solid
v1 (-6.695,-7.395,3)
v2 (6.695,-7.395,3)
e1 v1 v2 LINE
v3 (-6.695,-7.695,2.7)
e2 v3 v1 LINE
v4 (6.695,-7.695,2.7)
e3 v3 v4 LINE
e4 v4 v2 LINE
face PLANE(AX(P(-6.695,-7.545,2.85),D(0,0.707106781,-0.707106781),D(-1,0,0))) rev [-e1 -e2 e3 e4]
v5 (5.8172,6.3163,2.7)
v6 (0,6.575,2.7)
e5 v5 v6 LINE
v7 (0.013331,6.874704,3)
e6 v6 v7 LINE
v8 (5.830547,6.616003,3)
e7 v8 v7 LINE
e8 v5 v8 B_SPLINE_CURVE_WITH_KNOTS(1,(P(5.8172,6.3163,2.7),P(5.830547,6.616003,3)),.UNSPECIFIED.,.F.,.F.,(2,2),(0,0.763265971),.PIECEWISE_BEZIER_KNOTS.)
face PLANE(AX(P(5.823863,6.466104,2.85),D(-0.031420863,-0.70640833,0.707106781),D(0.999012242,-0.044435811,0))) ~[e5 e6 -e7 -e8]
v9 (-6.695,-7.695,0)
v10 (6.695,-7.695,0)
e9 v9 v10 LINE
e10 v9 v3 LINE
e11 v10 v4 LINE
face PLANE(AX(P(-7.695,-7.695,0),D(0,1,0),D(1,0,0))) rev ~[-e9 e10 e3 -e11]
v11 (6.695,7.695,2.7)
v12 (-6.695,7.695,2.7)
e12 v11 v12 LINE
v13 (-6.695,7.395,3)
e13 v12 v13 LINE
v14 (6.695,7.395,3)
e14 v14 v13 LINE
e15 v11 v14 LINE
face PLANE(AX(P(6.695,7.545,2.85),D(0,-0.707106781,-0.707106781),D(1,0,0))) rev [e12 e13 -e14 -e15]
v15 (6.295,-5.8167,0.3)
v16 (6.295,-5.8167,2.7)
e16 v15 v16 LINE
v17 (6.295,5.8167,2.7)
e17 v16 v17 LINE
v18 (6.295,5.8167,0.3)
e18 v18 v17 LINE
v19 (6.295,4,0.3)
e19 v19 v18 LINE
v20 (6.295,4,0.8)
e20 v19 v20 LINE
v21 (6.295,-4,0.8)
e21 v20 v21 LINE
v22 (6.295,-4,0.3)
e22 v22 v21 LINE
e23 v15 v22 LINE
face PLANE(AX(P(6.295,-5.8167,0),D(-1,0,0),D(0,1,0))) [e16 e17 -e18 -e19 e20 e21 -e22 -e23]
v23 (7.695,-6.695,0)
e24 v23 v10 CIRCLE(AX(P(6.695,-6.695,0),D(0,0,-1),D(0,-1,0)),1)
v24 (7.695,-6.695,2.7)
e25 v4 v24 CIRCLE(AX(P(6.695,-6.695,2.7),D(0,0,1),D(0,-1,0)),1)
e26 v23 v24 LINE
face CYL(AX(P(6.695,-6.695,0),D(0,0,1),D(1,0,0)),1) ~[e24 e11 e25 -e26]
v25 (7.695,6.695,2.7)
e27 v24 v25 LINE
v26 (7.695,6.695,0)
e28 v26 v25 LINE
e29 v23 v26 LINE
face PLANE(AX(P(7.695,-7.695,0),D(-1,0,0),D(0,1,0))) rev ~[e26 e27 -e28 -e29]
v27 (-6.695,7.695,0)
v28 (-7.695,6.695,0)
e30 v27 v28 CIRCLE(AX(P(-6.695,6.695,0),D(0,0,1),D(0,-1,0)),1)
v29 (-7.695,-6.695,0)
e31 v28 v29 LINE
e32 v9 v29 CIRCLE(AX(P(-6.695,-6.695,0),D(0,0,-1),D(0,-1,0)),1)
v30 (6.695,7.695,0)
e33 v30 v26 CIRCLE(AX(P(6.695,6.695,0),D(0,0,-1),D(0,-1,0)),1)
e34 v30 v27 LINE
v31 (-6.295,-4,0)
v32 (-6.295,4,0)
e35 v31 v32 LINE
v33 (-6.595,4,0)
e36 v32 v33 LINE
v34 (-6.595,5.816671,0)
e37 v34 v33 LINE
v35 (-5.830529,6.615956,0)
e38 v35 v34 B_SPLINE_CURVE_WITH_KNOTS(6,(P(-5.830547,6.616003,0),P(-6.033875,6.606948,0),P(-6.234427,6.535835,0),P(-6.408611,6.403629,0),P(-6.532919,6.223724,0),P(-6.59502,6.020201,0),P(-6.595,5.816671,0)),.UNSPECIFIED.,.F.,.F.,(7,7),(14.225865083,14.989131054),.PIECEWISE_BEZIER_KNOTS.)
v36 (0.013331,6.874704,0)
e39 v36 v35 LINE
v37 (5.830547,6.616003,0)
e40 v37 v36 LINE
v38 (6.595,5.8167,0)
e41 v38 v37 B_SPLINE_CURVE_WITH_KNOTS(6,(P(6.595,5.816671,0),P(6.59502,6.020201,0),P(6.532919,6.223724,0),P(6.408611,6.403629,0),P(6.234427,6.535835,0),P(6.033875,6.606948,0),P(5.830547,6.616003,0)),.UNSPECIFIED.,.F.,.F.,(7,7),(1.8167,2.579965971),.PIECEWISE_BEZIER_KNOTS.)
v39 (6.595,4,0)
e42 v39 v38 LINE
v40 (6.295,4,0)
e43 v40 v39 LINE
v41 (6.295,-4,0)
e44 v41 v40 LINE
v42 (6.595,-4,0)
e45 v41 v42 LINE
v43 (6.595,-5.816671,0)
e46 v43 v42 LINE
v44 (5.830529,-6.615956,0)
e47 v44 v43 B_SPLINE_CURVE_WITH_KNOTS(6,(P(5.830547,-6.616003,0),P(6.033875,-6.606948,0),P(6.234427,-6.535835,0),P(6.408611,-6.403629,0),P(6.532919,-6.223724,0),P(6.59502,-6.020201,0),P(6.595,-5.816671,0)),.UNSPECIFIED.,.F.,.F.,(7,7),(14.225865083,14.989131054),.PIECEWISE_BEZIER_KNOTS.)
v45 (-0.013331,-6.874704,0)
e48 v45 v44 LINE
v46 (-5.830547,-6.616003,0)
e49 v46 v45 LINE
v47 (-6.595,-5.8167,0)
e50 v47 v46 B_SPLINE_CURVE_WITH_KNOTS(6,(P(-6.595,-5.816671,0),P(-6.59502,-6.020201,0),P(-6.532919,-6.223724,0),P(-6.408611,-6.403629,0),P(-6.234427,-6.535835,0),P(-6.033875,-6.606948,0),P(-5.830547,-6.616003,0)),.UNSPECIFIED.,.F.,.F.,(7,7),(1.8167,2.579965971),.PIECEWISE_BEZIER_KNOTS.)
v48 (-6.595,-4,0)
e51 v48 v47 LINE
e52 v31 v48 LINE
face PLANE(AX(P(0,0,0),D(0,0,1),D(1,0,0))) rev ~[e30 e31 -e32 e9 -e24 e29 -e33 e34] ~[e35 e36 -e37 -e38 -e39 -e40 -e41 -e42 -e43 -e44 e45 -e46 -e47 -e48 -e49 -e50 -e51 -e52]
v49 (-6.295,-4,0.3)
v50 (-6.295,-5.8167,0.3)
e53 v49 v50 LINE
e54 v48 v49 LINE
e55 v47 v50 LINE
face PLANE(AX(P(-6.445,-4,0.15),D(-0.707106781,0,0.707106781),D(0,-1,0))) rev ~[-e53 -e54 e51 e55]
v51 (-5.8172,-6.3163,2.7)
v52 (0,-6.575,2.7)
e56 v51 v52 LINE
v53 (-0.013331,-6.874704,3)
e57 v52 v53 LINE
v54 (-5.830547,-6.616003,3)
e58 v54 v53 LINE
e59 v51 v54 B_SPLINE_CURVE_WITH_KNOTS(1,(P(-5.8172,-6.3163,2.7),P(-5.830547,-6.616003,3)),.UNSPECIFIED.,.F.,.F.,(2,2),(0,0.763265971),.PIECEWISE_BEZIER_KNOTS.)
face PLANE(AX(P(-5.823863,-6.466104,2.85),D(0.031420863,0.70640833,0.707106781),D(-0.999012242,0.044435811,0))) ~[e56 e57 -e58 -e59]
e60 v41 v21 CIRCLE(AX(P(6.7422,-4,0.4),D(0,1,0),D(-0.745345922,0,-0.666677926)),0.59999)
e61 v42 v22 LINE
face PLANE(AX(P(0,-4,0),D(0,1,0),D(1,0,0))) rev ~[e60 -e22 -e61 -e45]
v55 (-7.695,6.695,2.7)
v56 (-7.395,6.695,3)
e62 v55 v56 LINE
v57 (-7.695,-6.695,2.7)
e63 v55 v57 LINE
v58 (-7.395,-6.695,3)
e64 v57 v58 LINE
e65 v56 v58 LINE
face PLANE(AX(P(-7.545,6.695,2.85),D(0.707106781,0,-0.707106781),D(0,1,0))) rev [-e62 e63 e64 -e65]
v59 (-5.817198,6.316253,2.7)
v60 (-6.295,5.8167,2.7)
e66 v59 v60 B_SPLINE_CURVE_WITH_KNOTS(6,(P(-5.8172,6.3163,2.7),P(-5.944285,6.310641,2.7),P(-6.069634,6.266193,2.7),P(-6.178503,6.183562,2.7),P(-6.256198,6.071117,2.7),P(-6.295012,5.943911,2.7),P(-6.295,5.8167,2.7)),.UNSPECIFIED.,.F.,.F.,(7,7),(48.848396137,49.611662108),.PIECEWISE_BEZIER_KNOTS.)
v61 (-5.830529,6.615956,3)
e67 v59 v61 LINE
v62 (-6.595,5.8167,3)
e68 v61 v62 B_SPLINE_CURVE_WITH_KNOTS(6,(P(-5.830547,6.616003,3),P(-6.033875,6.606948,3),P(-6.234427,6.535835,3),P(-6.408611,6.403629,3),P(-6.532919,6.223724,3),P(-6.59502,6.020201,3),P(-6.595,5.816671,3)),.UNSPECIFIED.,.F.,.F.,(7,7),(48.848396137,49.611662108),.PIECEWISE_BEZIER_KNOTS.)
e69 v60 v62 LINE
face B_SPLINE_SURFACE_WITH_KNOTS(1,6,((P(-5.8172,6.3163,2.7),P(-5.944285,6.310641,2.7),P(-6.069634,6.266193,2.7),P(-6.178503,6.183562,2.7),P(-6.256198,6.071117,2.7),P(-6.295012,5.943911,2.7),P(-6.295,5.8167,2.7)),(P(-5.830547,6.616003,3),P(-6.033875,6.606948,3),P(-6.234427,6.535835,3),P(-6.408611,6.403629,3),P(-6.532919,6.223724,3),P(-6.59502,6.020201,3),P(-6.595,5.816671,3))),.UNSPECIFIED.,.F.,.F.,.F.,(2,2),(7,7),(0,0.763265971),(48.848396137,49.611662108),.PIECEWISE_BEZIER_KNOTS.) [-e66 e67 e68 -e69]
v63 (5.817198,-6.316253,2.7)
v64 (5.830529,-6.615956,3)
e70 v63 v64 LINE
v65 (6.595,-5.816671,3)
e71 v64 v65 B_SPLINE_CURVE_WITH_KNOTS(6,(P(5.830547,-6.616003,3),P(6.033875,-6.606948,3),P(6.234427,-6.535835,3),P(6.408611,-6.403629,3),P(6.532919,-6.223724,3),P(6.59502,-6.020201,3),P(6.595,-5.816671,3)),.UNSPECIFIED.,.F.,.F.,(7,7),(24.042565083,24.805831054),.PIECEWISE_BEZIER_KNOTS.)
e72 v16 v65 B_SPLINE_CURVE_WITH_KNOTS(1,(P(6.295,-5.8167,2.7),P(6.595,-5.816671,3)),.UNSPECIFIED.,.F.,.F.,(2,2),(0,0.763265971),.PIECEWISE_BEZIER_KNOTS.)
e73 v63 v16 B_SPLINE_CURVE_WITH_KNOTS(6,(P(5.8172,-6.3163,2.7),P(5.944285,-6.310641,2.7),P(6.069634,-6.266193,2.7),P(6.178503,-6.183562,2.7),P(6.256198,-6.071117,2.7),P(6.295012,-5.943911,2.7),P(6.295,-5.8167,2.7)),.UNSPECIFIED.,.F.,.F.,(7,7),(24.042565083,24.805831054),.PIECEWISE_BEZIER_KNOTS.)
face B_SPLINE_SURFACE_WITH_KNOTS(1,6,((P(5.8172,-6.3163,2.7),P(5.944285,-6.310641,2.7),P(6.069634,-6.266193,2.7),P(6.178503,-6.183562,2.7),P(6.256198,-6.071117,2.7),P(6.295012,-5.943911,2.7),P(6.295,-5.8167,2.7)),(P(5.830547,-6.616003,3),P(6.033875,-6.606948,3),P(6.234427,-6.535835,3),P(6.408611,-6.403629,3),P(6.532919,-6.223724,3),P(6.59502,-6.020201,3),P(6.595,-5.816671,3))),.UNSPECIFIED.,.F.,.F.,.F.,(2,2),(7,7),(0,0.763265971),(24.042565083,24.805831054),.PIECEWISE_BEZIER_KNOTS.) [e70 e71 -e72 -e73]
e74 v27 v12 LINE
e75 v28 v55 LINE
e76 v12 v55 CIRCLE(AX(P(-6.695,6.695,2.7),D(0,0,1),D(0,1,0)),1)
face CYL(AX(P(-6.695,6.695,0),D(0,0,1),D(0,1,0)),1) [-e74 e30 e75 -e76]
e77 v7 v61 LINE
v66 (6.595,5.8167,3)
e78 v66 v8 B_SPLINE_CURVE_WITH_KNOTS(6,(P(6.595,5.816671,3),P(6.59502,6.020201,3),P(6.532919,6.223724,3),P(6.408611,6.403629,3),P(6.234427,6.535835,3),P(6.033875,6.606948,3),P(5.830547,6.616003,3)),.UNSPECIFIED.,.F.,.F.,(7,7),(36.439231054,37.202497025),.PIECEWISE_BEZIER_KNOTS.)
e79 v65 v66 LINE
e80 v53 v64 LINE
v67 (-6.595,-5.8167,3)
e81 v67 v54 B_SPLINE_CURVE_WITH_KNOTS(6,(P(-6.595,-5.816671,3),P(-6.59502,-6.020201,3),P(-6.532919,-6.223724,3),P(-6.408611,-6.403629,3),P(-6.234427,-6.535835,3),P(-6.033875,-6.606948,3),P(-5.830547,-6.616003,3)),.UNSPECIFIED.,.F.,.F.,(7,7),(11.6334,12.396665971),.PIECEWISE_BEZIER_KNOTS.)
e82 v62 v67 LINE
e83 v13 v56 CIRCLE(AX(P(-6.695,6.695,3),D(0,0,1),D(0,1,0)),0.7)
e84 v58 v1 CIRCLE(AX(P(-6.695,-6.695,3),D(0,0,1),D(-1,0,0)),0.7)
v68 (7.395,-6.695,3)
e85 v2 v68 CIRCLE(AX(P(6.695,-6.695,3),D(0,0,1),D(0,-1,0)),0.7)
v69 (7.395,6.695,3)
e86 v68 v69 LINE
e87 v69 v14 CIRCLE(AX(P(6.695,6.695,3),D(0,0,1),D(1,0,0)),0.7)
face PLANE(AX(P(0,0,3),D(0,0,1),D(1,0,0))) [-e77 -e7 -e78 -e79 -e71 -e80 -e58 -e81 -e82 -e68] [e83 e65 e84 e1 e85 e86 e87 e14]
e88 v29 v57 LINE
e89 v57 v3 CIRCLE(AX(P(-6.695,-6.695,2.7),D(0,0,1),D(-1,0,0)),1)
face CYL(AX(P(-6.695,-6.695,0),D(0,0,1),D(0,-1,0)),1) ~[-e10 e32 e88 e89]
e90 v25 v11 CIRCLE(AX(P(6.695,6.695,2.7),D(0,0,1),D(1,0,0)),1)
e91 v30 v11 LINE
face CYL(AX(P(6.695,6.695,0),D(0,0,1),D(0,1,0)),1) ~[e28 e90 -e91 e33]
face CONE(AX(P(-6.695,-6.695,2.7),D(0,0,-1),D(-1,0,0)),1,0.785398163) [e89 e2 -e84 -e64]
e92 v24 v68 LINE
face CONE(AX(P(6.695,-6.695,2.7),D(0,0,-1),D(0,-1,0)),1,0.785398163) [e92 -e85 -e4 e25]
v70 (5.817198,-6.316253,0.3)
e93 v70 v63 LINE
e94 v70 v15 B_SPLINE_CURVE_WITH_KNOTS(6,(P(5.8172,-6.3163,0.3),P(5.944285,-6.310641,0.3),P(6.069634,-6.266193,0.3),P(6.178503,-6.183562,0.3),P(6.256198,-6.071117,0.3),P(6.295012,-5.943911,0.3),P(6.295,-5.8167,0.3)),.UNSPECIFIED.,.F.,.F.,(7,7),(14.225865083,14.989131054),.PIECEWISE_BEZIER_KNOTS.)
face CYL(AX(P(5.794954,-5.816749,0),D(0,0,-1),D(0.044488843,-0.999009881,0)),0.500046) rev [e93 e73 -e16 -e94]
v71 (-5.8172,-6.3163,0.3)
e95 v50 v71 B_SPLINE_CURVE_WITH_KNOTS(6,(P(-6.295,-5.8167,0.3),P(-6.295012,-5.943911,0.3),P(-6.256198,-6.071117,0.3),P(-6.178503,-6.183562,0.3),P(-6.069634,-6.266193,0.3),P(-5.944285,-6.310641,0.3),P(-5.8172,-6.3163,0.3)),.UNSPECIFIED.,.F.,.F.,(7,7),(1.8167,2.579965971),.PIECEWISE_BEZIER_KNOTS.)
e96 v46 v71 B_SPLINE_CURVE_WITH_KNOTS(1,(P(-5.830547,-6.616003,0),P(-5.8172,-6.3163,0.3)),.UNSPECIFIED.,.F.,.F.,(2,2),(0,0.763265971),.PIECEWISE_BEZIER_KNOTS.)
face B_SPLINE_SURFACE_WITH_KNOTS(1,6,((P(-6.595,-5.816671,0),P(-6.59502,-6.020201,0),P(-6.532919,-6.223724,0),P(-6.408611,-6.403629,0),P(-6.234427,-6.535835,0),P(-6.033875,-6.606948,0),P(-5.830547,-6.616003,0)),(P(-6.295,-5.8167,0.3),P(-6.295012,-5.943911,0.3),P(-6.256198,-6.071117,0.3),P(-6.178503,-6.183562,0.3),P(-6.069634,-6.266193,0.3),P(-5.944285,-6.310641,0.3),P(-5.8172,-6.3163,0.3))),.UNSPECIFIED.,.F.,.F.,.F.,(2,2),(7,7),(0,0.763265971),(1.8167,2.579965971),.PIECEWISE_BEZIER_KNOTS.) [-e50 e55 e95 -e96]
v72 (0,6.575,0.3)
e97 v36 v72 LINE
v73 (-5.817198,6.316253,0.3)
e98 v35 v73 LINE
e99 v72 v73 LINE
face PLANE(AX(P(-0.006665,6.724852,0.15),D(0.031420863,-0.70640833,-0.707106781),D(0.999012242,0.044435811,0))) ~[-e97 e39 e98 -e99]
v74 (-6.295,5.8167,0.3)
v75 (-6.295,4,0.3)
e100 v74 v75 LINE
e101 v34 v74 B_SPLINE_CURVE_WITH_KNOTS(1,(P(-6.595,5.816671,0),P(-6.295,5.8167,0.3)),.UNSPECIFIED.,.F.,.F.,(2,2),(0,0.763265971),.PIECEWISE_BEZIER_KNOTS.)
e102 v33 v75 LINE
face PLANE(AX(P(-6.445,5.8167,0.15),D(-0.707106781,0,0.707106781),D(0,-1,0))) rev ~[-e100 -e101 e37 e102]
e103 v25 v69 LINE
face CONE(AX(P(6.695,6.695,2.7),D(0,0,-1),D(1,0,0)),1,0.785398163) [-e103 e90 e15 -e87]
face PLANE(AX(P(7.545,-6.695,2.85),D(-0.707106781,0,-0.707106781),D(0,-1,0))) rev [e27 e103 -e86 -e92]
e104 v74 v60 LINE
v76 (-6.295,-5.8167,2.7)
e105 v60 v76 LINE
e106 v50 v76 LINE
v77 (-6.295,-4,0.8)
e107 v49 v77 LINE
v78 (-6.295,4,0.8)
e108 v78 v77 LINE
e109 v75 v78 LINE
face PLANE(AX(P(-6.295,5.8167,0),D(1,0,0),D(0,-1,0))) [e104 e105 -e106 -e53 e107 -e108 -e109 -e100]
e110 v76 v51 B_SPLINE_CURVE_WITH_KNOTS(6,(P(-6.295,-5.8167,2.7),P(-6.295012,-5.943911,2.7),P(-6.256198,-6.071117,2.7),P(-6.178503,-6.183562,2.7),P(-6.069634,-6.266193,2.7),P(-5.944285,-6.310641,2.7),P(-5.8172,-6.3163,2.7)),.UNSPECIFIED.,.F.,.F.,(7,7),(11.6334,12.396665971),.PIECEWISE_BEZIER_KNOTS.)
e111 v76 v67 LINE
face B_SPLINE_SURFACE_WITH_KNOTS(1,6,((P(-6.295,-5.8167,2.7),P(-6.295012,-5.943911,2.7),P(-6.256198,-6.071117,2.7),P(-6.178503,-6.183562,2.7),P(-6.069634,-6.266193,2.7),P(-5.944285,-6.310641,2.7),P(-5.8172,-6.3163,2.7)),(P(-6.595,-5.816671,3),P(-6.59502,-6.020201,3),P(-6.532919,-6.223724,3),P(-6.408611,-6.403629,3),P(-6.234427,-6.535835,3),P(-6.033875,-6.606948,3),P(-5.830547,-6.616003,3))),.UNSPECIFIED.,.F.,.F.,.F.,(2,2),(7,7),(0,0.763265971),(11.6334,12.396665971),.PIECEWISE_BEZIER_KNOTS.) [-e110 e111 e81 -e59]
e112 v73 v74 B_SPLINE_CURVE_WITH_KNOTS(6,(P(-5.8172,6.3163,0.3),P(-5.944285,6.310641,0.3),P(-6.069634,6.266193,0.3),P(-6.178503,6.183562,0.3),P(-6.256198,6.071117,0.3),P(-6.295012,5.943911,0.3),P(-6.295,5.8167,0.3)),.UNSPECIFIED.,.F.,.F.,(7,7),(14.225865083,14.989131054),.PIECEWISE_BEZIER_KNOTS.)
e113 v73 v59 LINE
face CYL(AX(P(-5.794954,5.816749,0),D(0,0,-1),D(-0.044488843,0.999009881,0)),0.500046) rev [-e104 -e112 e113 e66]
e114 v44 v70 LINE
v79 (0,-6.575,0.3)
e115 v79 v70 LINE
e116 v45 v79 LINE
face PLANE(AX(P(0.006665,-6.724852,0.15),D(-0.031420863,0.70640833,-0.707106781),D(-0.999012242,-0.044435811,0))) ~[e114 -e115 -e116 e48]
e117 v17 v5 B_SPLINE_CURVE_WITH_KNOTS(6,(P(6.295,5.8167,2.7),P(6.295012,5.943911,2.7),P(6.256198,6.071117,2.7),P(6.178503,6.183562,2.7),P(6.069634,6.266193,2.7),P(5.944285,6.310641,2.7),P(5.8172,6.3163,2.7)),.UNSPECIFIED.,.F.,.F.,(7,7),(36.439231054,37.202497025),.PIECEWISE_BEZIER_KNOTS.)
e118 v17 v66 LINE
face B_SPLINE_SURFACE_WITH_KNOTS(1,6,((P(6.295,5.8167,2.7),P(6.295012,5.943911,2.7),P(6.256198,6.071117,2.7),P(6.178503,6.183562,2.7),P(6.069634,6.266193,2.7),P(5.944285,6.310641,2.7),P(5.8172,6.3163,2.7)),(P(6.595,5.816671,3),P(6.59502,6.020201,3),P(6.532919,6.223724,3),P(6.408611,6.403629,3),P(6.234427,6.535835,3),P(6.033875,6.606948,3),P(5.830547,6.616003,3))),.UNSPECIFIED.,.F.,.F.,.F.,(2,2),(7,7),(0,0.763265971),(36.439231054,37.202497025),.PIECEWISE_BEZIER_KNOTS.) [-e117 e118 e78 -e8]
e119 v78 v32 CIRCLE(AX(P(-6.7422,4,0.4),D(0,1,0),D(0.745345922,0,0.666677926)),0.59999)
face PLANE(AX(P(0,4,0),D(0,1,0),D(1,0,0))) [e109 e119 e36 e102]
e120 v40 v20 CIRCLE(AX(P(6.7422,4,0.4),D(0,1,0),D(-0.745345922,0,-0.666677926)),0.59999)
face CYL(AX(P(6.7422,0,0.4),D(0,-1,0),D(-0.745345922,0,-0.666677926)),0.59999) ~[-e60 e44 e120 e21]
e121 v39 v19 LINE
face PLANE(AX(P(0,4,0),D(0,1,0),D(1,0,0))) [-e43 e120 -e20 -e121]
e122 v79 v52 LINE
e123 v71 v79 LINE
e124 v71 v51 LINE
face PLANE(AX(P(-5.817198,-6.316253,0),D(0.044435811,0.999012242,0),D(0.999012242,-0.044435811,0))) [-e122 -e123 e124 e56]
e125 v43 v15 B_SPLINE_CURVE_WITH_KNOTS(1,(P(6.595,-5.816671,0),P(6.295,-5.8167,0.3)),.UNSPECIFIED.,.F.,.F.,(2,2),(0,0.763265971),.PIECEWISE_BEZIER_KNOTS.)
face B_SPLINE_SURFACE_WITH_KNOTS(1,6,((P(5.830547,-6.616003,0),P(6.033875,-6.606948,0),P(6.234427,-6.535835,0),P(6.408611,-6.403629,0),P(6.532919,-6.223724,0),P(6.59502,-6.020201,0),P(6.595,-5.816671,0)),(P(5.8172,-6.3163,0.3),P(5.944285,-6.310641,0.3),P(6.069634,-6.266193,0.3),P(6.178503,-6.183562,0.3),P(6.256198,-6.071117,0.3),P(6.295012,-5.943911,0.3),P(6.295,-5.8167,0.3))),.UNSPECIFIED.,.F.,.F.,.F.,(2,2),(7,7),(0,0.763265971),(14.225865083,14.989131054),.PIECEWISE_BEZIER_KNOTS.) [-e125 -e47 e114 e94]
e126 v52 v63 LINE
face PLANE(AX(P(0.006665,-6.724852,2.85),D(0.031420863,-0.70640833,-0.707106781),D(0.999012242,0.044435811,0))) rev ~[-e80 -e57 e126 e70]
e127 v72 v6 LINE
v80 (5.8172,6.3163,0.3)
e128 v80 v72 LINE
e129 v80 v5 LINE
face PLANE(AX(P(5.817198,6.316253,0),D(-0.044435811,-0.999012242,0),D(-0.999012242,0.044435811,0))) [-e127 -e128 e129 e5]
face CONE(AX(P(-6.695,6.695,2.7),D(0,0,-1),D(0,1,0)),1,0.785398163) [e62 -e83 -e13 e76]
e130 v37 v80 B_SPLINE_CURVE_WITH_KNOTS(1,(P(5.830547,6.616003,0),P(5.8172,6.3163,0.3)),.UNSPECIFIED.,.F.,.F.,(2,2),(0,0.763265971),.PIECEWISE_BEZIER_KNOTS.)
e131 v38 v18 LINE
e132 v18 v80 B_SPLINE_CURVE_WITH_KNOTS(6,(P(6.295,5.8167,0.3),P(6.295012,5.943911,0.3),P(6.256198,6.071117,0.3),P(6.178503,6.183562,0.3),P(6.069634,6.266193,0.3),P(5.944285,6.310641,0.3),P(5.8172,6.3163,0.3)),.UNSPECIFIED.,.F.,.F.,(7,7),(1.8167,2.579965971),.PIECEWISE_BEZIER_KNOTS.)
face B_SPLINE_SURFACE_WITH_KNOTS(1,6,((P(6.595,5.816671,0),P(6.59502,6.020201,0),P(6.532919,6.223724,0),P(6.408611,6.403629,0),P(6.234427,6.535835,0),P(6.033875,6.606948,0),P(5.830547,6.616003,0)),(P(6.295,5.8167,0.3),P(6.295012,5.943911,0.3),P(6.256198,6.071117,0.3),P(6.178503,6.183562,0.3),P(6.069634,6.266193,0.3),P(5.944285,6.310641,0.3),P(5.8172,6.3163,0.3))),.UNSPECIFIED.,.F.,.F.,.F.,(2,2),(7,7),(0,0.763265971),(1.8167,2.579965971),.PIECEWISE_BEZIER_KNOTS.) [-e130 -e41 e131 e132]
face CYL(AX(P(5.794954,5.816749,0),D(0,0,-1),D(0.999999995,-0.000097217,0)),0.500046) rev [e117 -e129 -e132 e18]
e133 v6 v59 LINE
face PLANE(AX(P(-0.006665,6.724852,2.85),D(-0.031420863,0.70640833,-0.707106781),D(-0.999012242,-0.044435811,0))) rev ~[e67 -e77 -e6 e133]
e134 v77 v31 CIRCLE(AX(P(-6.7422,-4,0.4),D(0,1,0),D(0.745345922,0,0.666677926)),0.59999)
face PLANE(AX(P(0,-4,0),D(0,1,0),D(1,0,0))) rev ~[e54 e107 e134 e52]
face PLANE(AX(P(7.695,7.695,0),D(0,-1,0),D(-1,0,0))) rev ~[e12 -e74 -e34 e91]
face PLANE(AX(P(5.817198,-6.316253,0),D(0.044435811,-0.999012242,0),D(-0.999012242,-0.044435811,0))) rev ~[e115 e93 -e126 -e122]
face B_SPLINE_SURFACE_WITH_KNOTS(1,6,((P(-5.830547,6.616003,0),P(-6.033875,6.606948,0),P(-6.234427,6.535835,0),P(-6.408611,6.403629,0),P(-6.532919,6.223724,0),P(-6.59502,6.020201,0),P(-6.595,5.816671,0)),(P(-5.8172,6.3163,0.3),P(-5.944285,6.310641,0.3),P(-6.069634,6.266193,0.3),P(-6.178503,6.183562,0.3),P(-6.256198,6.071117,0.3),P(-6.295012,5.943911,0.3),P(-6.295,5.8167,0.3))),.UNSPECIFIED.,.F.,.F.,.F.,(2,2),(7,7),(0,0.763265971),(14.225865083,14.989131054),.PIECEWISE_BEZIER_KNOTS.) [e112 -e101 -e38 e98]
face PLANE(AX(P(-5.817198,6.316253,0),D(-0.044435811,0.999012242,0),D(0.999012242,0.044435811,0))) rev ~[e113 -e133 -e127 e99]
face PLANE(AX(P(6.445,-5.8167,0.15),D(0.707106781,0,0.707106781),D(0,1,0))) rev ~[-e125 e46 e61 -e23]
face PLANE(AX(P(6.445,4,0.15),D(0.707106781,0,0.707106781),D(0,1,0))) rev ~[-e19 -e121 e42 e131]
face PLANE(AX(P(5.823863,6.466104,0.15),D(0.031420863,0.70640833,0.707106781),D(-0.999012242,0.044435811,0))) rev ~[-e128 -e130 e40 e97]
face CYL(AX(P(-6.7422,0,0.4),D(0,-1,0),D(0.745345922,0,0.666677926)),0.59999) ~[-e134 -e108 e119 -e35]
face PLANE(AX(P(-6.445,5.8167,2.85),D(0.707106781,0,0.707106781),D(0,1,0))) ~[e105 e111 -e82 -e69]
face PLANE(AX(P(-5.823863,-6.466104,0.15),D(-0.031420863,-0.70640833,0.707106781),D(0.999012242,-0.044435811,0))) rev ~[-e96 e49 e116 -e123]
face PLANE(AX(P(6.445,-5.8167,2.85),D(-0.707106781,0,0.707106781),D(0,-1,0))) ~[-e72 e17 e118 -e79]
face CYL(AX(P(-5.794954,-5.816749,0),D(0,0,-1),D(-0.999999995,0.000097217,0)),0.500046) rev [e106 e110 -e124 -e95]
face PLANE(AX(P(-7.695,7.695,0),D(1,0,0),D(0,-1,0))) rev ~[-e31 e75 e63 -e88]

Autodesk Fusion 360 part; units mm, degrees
sketch "Sketch1" plane through (0, 0, 0) normal (0, 0, 1) x (1, 0, 0)
  line L0 (0, 18.1881) -> (0, -15.507) construction
  line L1 (-13.7826, 0) -> (15.7817, 0) construction
  line L2 (6.295, 6.295) -> (-6.295, 6.295) construction
  line L3 (-6.295, 6.295) -> (-6.295, -6.295)
  line L4 (-6.295, -6.295) -> (6.295, -6.295) construction
  line L5 (6.295, -6.295) -> (6.295, 6.295)
  line L6 (6.295, 6.295) -> (-6.295, -6.295) construction
  line L7 (-6.295, 6.295) -> (6.295, -6.295) construction
  line L8 (-6.295, 6.295) -> (0, 6.575)
  line L9 (6.295, 6.295) -> (0, 6.575)
  line L10 (6.295, -6.295) -> (0, -6.575)
  line L11 (-6.295, -6.295) -> (0, -6.575)
  arc A0 (-5.8172, 6.3163) -> (-6.295, 5.8167) centre (-5.795, 5.8167) ccw
  arc A1 (-6.295, -5.8167) -> (-5.8172, -6.3163) centre (-5.795, -5.8167) ccw
  arc A2 (5.8172, -6.3163) -> (6.295, -5.8167) centre (5.795, -5.8167) ccw
  arc A3 (6.295, 5.8167) -> (5.8172, 6.3163) centre (5.795, 5.8167) ccw
  line L12 (-7.695, 7.695) -> (-7.695, -7.695)
  line L13 (-7.695, -7.695) -> (7.695, -7.695)
  line L14 (7.695, -7.695) -> (7.695, 7.695)
  line L15 (7.695, 7.695) -> (-7.695, 7.695)
  dimension "d8" = 12.59
  dimension "d9" = 12.59
  dimension "d10" = 0.28
  dimension "d11" = 0.5
  dimension "d12" = 0.5
  dimension "d13" = 1.4
extrude "Extrude1" add sketch "Sketch1" along normal blind 3 contours L3 L8 A0 | L3 L11 A1 | L5 L9 A3 | L5 L10 A2 | L12 L13 L14 L15
sketch "Sketch3" plane through (0, 0, 0) normal (0, 1, 0) x (1, 0, 0)
  line L0 (6.295, 0) -> (6.295, -3)
  line L1 (6.295, -3) -> (6.295, 0)
  line L2 (-6.295, 0) -> (-6.295, -3)
  line L3 (-6.295, -3) -> (-6.295, 0)
  arc A0 (6.295, 0) -> (6.295, -0.8) centre (6.7422, -0.4) ccw
  line L4 (0, -4.7856) -> (0, 3.5594) construction
  arc A1 (-6.295, -0.8) -> (-6.295, 0) centre (-6.7422, -0.4) ccw
  dimension "d16" = 0.8
  dimension "d17" = 0.6
extrude "Extrude2" add sketch "Sketch3" along normal mid plane 8
fillet "Fillet2" radius 1 4 edges at (7.695, -7.695, 1.5) (7.695, 7.695, 1.5) (-7.695, 7.695, 1.5) (-7.695, -7.695, 1.5)
chamfer "Chamfer1" distance 0.3 angle 45 12 edges at (2.9086, 6.4456, 0) (6.1563, 6.1624, 0) (6.295, 4.9084, 0) (-2.9086, 6.4456, 0) (-6.295, 4.9084, 0) (-6.1563, 6.1624, 0) (-2.9086, -6.4456, 0) (-6.1563, -6.1624, 0) (-6.295, -4.9084, 0) (2.9086, -6.4456, 0) (6.295, -4.9084, 0) (6.1563, -6.1624, 0)
chamfer "Chamfer2" distance 0.3 angle 45 1 faces at (7.2283, 1.9389, 3)
equation "d9 = d8"
